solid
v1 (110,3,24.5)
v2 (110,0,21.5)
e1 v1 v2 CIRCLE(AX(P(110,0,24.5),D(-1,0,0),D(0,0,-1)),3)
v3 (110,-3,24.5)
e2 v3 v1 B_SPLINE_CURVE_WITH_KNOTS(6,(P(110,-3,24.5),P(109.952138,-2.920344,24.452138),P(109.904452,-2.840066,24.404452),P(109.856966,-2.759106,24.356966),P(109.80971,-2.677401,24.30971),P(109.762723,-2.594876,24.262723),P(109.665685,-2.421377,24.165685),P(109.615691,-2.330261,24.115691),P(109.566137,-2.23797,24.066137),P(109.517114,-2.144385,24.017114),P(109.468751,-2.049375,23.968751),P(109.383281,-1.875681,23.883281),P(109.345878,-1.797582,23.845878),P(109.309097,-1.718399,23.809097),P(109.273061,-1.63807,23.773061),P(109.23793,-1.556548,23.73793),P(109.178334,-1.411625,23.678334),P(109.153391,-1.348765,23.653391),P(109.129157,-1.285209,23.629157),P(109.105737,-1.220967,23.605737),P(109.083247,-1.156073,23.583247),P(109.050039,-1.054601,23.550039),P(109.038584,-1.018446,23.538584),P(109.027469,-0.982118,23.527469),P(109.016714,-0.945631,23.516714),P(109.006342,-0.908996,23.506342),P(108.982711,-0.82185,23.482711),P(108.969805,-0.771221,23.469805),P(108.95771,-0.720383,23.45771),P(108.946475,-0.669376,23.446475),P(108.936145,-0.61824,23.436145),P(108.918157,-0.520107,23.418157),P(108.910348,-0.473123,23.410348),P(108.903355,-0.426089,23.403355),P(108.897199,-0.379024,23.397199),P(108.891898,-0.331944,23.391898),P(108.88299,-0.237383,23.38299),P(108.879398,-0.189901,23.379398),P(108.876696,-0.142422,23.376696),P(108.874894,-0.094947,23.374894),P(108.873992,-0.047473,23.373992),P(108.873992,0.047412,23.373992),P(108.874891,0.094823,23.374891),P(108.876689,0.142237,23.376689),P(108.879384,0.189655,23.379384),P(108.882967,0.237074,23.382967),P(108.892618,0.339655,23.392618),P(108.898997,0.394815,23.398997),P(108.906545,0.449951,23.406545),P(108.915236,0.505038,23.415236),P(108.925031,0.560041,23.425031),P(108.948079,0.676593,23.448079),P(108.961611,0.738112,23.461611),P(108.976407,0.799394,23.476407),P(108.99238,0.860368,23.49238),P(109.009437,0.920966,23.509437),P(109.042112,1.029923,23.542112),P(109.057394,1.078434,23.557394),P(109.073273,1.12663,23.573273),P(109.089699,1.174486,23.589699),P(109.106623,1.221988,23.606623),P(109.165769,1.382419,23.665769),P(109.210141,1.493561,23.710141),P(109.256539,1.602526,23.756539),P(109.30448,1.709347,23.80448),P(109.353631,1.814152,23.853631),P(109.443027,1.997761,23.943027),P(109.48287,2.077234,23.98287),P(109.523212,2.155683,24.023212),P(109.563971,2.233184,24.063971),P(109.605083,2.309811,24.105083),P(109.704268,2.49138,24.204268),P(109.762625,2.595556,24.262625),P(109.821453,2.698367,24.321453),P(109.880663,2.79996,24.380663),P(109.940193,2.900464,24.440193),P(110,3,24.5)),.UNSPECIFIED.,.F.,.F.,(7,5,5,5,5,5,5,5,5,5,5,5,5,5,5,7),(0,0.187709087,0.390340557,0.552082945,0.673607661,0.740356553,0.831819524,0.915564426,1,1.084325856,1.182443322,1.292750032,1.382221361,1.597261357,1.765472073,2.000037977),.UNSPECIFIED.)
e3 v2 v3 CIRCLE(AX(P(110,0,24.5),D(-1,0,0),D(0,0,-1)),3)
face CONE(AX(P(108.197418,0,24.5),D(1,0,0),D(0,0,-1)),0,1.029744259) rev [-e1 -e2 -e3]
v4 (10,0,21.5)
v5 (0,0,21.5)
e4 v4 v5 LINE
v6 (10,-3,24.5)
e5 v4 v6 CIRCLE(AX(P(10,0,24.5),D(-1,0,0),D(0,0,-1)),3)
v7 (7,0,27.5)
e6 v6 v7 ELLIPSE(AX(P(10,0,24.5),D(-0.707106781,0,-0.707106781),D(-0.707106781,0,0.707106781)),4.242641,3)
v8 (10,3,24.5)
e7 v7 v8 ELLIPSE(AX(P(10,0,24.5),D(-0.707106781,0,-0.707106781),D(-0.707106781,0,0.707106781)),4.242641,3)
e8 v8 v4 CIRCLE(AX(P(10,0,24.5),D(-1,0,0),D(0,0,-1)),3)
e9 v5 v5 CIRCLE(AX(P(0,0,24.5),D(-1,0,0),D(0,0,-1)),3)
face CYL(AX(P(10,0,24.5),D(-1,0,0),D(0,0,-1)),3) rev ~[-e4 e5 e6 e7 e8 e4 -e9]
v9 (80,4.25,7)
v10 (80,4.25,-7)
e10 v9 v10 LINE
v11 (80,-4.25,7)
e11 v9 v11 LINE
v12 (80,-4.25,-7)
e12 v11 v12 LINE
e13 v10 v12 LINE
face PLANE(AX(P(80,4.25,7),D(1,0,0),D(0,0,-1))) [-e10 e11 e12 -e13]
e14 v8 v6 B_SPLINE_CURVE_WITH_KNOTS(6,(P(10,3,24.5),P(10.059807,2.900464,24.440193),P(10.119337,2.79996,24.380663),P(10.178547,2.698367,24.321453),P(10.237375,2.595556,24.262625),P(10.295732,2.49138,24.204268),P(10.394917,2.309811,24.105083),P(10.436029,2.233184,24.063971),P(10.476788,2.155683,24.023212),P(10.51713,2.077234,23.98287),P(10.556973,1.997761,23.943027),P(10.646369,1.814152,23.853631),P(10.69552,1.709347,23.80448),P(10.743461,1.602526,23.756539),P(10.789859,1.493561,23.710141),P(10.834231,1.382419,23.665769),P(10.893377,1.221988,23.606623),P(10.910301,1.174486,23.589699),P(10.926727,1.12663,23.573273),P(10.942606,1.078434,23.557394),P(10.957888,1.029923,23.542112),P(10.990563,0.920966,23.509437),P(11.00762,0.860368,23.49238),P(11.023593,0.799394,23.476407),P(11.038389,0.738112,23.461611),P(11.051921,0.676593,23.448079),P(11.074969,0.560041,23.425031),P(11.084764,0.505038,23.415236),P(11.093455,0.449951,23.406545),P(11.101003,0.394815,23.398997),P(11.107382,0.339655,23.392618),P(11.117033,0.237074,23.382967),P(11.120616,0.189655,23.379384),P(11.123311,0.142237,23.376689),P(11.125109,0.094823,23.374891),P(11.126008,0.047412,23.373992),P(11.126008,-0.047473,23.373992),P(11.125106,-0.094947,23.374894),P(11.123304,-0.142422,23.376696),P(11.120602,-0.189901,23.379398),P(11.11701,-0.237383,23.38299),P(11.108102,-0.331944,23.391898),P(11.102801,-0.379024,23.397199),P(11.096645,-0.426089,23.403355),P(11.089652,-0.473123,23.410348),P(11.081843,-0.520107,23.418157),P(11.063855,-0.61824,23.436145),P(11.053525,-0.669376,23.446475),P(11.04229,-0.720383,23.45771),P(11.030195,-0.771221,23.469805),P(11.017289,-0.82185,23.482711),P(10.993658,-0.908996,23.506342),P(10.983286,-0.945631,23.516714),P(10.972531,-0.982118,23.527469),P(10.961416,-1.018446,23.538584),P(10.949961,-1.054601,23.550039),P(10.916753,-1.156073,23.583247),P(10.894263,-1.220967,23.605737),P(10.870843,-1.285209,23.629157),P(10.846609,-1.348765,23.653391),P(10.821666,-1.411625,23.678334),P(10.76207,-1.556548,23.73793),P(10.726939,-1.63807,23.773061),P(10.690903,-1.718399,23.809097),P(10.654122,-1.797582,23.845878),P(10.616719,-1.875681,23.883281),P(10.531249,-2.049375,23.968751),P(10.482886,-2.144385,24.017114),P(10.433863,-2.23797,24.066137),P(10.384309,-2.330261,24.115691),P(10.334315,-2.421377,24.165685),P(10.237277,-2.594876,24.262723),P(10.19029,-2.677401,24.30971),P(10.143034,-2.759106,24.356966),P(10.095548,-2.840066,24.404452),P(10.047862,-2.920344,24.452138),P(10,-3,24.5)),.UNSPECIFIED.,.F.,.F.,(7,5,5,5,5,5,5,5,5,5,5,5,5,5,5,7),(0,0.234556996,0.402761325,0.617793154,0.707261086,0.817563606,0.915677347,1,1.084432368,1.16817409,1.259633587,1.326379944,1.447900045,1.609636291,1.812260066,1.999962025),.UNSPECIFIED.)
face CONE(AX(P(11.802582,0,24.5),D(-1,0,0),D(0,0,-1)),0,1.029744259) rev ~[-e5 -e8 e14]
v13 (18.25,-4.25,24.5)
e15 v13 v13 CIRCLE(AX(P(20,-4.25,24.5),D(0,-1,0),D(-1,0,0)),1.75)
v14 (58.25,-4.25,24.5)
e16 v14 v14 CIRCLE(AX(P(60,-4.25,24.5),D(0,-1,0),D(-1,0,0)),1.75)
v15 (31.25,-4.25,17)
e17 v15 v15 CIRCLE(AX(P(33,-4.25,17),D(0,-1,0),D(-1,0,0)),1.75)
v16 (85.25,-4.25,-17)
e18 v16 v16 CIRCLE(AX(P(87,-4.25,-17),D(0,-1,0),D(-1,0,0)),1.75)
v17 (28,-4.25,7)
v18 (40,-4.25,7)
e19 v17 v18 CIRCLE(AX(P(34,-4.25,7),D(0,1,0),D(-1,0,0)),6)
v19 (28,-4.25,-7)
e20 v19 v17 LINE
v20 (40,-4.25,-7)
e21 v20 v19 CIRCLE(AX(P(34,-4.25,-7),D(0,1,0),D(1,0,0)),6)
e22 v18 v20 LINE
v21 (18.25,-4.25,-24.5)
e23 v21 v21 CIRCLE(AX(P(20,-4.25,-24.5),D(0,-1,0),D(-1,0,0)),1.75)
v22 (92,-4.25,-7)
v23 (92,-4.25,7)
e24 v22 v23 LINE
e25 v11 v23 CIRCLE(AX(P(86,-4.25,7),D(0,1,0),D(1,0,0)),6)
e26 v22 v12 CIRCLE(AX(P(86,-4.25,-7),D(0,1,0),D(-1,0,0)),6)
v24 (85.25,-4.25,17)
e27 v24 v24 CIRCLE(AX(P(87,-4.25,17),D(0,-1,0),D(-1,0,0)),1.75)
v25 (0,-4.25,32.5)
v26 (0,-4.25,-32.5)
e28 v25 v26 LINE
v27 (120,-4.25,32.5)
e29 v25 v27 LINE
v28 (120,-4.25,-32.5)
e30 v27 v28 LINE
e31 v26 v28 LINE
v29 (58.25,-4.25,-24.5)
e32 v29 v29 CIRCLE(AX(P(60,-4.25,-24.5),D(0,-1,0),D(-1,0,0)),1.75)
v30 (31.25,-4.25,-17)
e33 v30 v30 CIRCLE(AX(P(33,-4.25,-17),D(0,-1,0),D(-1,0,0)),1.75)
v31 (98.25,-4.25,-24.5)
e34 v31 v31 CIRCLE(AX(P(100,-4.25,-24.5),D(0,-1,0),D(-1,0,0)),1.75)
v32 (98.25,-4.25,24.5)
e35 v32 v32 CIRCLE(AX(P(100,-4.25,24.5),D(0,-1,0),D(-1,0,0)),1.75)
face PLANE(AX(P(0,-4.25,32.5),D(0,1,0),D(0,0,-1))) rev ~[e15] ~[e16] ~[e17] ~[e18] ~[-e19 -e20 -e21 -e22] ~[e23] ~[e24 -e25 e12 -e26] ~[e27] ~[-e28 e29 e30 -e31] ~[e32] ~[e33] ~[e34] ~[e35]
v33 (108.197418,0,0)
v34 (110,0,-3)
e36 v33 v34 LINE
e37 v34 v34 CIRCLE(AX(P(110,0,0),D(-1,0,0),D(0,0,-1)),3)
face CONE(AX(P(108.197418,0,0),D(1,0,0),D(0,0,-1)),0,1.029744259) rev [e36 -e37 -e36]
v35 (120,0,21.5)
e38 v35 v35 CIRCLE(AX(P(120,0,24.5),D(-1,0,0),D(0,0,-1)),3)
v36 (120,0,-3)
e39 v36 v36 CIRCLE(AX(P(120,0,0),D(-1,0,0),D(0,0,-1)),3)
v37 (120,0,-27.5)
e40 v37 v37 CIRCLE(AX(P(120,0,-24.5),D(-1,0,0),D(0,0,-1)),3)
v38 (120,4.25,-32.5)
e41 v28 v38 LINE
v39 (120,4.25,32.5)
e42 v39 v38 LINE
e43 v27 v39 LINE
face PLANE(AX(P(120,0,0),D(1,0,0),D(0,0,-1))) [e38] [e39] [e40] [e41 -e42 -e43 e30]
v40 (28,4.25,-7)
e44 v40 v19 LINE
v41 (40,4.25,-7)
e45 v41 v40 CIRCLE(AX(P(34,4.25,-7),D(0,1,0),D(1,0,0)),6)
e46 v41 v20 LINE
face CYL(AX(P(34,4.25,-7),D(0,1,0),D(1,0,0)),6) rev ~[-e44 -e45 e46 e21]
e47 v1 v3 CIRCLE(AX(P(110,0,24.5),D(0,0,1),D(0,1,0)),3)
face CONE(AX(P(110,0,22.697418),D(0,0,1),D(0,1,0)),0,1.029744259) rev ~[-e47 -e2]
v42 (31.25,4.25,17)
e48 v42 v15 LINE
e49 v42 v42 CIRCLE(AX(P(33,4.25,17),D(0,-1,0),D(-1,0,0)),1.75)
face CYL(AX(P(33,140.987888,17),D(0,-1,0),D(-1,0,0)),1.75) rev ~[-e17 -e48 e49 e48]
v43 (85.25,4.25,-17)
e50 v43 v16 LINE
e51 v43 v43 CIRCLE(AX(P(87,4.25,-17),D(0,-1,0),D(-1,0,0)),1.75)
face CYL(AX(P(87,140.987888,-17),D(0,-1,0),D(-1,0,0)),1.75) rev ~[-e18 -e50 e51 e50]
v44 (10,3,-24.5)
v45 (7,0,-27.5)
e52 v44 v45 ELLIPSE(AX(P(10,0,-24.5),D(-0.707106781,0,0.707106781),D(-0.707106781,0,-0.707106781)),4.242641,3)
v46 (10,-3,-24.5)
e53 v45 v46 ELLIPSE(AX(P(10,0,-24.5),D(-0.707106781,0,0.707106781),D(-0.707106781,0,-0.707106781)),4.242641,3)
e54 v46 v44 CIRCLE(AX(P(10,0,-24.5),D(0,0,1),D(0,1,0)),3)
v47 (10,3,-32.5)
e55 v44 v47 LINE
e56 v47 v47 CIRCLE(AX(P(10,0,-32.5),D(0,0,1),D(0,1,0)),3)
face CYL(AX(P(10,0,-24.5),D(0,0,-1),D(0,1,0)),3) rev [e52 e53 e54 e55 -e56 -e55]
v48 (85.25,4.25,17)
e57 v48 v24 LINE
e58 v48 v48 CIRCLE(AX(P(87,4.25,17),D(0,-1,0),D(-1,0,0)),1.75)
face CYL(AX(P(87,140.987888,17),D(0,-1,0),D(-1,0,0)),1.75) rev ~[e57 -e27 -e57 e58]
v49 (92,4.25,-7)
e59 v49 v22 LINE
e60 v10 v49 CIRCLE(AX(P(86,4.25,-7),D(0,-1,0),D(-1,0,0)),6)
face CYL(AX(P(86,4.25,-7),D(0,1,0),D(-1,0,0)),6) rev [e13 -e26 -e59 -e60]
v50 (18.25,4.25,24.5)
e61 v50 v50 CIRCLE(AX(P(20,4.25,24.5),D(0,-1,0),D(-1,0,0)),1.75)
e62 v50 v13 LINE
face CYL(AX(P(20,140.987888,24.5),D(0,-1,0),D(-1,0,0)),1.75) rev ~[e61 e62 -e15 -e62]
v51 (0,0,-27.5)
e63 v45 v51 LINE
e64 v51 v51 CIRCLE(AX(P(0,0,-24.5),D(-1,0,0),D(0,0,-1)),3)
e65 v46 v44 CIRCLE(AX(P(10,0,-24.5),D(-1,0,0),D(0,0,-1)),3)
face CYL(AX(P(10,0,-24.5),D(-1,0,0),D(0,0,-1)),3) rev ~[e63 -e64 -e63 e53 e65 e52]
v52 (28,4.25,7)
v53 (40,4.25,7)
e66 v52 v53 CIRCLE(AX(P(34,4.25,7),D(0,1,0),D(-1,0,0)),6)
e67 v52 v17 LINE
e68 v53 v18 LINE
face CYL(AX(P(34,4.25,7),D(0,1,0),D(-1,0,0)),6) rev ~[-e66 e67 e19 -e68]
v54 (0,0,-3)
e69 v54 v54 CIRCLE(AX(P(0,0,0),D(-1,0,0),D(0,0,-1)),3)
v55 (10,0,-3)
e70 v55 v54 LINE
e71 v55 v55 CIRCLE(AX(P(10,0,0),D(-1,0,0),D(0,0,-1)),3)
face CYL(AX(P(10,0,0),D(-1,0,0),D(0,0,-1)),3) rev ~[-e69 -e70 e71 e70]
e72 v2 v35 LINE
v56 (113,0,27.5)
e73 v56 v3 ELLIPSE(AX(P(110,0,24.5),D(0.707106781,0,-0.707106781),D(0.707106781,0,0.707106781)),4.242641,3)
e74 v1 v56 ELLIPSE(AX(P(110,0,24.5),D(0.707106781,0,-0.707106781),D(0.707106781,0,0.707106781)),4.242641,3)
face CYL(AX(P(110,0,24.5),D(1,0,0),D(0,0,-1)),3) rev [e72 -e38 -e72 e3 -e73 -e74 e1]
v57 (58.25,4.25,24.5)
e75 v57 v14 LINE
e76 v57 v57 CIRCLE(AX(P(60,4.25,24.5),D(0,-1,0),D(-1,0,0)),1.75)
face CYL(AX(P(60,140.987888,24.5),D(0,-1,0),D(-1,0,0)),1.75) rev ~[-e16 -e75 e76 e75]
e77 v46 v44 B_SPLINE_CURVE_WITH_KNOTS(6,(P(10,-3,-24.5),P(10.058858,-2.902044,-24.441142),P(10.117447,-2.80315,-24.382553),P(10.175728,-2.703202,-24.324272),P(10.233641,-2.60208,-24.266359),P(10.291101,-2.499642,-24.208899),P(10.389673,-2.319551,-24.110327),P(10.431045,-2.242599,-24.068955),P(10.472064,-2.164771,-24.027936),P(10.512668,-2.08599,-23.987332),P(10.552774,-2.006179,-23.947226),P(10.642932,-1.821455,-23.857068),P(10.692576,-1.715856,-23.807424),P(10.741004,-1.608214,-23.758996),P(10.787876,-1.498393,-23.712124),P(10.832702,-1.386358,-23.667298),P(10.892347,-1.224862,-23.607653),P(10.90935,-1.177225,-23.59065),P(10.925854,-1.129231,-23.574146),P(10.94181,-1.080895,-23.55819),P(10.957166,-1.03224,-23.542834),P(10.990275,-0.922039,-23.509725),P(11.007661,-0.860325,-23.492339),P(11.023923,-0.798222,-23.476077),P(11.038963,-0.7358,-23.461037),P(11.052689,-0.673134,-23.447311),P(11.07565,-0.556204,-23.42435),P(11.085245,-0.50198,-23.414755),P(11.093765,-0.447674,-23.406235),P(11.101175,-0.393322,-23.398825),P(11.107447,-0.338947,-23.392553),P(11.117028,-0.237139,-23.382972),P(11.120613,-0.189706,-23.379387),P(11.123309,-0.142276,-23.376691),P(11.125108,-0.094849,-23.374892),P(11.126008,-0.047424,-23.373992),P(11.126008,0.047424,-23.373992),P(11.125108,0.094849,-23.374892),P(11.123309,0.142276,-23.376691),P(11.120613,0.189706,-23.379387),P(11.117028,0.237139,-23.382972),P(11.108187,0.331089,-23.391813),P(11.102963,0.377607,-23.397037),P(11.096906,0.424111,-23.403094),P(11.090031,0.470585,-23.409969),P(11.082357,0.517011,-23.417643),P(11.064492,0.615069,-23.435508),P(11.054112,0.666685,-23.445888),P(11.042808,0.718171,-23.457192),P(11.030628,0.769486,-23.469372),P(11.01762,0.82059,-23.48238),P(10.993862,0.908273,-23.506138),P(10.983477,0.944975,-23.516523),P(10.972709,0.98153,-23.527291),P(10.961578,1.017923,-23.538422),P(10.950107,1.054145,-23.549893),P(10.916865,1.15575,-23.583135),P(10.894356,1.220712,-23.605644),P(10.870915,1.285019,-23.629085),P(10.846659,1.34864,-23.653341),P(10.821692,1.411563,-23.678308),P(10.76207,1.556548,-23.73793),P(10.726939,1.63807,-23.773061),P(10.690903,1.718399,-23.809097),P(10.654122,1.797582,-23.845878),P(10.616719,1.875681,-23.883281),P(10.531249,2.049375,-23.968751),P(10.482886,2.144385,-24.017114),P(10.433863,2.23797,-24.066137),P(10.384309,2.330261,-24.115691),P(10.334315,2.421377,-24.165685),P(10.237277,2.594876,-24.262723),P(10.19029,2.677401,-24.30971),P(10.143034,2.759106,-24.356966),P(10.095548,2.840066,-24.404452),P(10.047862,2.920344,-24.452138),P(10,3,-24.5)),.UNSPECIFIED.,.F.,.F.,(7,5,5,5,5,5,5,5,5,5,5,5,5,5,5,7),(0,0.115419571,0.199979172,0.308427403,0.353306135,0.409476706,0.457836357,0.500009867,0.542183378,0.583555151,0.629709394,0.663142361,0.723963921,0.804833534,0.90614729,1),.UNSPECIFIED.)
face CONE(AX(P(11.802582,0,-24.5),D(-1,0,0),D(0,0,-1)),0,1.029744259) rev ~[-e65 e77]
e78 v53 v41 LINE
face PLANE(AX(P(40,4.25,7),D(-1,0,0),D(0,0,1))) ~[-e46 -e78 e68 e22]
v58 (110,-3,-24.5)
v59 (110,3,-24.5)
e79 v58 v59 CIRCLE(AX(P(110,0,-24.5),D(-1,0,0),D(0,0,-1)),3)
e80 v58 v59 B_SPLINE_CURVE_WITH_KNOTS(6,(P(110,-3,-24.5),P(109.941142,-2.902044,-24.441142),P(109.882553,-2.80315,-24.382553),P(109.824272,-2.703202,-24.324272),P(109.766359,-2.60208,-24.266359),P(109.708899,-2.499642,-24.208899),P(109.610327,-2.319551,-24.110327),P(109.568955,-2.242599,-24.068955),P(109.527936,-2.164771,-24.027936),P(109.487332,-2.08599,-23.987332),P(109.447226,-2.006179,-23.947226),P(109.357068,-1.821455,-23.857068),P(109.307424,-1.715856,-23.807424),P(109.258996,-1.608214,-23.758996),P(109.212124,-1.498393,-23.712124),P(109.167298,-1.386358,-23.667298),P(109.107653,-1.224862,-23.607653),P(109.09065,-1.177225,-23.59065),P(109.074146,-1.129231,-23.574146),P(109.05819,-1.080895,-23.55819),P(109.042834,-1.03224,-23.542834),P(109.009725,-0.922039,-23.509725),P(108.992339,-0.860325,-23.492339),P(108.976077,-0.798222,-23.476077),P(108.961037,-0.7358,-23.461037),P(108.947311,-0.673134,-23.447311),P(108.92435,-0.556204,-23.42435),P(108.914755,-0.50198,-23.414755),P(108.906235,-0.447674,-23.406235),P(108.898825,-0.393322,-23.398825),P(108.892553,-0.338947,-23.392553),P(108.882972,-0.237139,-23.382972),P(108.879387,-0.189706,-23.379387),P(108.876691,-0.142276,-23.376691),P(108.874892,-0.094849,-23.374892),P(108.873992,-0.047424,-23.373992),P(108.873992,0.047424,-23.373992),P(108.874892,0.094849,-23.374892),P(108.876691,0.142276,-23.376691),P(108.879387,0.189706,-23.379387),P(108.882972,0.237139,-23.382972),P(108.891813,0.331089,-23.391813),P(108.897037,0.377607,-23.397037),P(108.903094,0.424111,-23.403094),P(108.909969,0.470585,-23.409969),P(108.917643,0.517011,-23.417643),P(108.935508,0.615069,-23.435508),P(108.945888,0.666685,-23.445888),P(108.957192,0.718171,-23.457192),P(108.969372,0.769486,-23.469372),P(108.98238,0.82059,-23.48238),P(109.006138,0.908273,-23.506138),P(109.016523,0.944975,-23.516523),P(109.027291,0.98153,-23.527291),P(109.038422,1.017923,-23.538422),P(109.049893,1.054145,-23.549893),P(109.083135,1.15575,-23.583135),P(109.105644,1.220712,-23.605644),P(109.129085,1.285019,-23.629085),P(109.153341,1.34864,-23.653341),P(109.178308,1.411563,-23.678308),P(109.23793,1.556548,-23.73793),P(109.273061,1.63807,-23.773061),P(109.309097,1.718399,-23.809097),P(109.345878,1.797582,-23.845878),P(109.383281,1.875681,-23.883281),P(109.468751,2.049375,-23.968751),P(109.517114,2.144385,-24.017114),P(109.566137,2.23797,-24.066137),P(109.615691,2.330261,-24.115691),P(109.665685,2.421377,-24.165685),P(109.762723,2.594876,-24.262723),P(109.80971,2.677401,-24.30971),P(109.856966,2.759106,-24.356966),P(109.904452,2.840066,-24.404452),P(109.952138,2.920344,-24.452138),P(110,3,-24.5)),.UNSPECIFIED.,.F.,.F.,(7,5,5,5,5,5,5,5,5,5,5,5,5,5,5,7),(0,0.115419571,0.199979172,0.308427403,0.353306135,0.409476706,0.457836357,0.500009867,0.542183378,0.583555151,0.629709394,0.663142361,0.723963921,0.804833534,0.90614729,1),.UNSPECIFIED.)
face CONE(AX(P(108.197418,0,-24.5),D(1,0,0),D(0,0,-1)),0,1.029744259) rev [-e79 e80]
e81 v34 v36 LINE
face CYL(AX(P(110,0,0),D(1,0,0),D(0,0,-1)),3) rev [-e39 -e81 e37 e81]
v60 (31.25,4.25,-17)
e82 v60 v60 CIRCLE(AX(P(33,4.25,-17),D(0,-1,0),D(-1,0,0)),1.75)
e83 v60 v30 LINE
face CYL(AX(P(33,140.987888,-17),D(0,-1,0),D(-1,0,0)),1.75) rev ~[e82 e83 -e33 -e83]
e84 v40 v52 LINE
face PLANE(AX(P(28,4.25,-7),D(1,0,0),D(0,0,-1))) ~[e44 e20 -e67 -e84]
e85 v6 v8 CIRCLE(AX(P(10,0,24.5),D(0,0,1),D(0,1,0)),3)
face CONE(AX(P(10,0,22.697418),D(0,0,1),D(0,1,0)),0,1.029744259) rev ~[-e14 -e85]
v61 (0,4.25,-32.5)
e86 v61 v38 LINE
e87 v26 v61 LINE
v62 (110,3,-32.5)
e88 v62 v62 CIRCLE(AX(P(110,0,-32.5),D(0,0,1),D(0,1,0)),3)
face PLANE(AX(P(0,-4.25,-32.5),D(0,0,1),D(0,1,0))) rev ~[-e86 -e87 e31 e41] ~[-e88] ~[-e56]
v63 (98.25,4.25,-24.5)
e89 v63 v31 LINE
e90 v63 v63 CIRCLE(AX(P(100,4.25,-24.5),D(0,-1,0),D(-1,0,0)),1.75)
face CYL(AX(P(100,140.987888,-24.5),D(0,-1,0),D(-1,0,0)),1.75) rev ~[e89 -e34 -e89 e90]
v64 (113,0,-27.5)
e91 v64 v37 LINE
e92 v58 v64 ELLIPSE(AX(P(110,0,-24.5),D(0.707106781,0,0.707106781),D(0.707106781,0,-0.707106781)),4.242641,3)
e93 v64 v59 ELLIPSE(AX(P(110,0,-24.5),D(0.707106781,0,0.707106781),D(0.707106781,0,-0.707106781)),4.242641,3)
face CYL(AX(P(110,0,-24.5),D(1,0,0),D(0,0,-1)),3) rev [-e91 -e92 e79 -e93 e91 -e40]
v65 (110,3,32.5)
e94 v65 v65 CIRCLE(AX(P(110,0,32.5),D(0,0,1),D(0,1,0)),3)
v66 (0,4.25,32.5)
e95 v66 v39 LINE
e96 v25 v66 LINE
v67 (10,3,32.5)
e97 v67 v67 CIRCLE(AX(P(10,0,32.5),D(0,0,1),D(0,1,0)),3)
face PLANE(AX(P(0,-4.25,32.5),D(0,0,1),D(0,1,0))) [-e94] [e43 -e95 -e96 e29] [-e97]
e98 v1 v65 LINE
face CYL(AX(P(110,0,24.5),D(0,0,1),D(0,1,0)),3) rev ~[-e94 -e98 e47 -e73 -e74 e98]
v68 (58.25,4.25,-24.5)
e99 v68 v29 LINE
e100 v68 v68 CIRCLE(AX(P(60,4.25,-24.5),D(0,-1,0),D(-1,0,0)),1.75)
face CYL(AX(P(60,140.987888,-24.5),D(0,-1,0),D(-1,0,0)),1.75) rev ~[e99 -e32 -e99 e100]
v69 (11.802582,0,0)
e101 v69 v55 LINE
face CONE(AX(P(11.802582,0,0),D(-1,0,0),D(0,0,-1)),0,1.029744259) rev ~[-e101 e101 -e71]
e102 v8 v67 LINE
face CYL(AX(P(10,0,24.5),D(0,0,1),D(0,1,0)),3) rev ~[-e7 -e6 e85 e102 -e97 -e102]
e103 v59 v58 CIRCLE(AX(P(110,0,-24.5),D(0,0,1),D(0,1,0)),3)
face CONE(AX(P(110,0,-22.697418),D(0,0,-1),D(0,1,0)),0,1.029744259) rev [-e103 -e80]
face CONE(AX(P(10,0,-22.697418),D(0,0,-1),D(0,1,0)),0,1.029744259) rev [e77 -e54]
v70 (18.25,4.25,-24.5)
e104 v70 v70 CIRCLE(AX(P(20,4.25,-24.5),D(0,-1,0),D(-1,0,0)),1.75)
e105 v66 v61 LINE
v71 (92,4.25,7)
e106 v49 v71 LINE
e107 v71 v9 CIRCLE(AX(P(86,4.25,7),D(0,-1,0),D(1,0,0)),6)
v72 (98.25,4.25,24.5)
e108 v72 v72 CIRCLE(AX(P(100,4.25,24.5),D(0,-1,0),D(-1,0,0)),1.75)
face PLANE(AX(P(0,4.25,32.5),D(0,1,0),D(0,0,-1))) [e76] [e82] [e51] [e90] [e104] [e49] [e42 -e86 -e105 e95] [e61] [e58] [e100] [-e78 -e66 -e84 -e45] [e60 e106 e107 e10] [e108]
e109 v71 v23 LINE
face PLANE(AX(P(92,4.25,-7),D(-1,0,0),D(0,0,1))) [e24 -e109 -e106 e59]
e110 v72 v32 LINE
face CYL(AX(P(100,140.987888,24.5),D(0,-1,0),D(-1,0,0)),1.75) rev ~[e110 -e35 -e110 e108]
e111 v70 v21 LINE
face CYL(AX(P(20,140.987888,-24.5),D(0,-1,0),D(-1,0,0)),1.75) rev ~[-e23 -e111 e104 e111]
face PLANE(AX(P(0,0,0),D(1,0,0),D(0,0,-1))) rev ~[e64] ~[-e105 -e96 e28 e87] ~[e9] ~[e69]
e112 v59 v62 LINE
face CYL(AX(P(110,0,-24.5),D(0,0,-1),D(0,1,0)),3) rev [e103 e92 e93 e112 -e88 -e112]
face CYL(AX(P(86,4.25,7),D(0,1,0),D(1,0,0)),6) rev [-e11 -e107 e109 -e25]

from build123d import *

# Parameters (mm, degrees)
SKETCH1_W                      = 65
SKETCH1_H                      = 8.5
BOSS_EXTRUDE1_DEPTH            = 120
F_6_0MM_DOWEL_HOLE1_AT_2_COUNT = 2
F_6_0MM_DOWEL_HOLE1_AT_2_PITCH = 24.5
F_6_0MM_DOWEL_HOLE1_AT_3_COUNT = 2
F_6_0MM_DOWEL_HOLE1_AT_3_PITCH = 49
F_6_0MM_DOWEL_HOLE2_AT_2_COUNT = 2
F_6_0MM_DOWEL_HOLE2_AT_2_PITCH = 100
CUT_EXTRUDE1_DEPTH             = 9.5
F_3_0MM_DOWEL_HOLE1_D          = 3.5


with BuildPart() as part:
    # Sketch1 → Boss-Extrude1 (new body)
    with BuildSketch(Plane(origin=(0, 0, 0), x_dir=(0, 0, -1), z_dir=(1, 0, 0))):
        Rectangle(SKETCH1_W, SKETCH1_H)
    extrude(amount=BOSS_EXTRUDE1_DEPTH)

    # Sketch3 → Ø6.0mm Dowel Hole1 (revolve, cut)
    with BuildSketch(Plane(origin=(120, 0, 24.5), x_dir=(0, 0, -1), z_dir=(0, 1, 0))):
        Polygon((0, 0), (0, 11.802581857), (3, 10), (3, 0), align=None)
    f_6_0mm_dowel_hole1 = revolve(axis=Axis((126.35, 0, 24.5), (-1, 0, 0)), mode=Mode.SUBTRACT)

    # Ø6.0mm Dowel Hole1 at 2: Ø6.0mm Dowel Hole1 ×2
    with Locations(*[(0, 0, -i * F_6_0MM_DOWEL_HOLE1_AT_2_PITCH) for i in range(1, F_6_0MM_DOWEL_HOLE1_AT_2_COUNT)]):
        add(f_6_0mm_dowel_hole1, mode=Mode.SUBTRACT)

    # Ø6.0mm Dowel Hole1 at 3: Ø6.0mm Dowel Hole1 ×2
    with Locations(*[(0, 0, -i * F_6_0MM_DOWEL_HOLE1_AT_3_PITCH) for i in range(1, F_6_0MM_DOWEL_HOLE1_AT_3_COUNT)]):
        add(f_6_0mm_dowel_hole1, mode=Mode.SUBTRACT)

    # Mirror1: Ø6.0mm Dowel Hole1 across plane
    add(f_6_0mm_dowel_hole1.mirror(Plane(origin=(60, 0, 0), x_dir=(0, 0, 1), z_dir=(1, 0, 0))), mode=Mode.SUBTRACT)

    # Mirror1 copy 1 sketch → Mirror1 copy 1 (revolve, cut)
    with BuildSketch(Plane(origin=(0, 0, 0), x_dir=(0, 0, -1), z_dir=(0, 1, 0))):
        Polygon((0, 0), (0, -11.802581857), (3, -10), (3, 0), align=None)
    revolve(axis=Axis((-6.35, 0, 0), (-1, 0, 0)), mode=Mode.SUBTRACT)

    # Mirror1 copy 2 sketch → Mirror1 copy 2 (revolve, cut)
    with BuildSketch(Plane(origin=(0, 0, -24.5), x_dir=(0, 0, -1), z_dir=(0, 1, 0))):
        Polygon((0, 0), (0, -11.802581857), (3, -10), (3, 0), align=None)
    revolve(axis=Axis((-6.35, 0, -24.5), (-1, 0, 0)), mode=Mode.SUBTRACT)

    # Sketch5 → Ø6.0mm Dowel Hole2 (revolve, cut)
    with BuildSketch(Plane(origin=(110, 0, -32.5), x_dir=(0, 1, 0), z_dir=(1, 0, 0))):
        Polygon((0, 0), (0, 9.802581857), (3, 8), (3, 0), align=None)
    f_6_0mm_dowel_hole2 = revolve(axis=Axis((110, 0, -38.85), (0, 0, 1)), mode=Mode.SUBTRACT)

    # Ø6.0mm Dowel Hole2 at 2: Ø6.0mm Dowel Hole2 ×2
    with Locations(*[(-i * F_6_0MM_DOWEL_HOLE2_AT_2_PITCH, 0, 0) for i in range(1, F_6_0MM_DOWEL_HOLE2_AT_2_COUNT)]):
        add(f_6_0mm_dowel_hole2, mode=Mode.SUBTRACT)

    # Mirror2: Ø6.0mm Dowel Hole2 across plane
    add(f_6_0mm_dowel_hole2.mirror(Plane.XY), mode=Mode.SUBTRACT)

    # Mirror2 copy 1 sketch → Mirror2 copy 1 (revolve, cut)
    with BuildSketch(Plane(origin=(10, 0, 32.5), x_dir=(0, 1, 0), z_dir=(1, 0, 0))):
        Polygon((0, 0), (0, -9.802581857), (3, -8), (3, 0), align=None)
    revolve(axis=Axis((10, 0, 38.85), (0, 0, 1)), mode=Mode.SUBTRACT)

    # Sketch6 → Cut-Extrude1 (cut, through all)
    with BuildSketch(Plane(origin=(0, 4.25, 0), x_dir=(1, 0, 0), z_dir=(0, 1, 0))):
        with BuildLine():
            Line((80, -7), (80, 7))
            ThreePointArc((80, 7), (86, 13), (92, 7))
            Line((92, 7), (92, -7))
            ThreePointArc((92, -7), (86, -13), (80, -7))
        make_face()
    cut_extrude1 = extrude(amount=-CUT_EXTRUDE1_DEPTH, mode=Mode.SUBTRACT)

    # Mirror3: Cut-Extrude1 across plane
    add(cut_extrude1.mirror(Plane(origin=(60, 0, 0), x_dir=(0, 0, 1), z_dir=(1, 0, 0))), mode=Mode.SUBTRACT)

    # Ø3.0mm Dowel Hole1 (through all)
    with Locations(Plane(origin=(0, 4.25, 0), x_dir=(1, 0, 0), z_dir=(0, 1, 0))):
        with Locations((87, -17), (87, 17), (33, 17), (33, -17), (100, -24.5), (60, -24.5), (20, -24.5), (100, 24.5), (60, 24.5), (20, 24.5)):
            Hole(F_3_0MM_DOWEL_HOLE1_D / 2)


solid = part.part
